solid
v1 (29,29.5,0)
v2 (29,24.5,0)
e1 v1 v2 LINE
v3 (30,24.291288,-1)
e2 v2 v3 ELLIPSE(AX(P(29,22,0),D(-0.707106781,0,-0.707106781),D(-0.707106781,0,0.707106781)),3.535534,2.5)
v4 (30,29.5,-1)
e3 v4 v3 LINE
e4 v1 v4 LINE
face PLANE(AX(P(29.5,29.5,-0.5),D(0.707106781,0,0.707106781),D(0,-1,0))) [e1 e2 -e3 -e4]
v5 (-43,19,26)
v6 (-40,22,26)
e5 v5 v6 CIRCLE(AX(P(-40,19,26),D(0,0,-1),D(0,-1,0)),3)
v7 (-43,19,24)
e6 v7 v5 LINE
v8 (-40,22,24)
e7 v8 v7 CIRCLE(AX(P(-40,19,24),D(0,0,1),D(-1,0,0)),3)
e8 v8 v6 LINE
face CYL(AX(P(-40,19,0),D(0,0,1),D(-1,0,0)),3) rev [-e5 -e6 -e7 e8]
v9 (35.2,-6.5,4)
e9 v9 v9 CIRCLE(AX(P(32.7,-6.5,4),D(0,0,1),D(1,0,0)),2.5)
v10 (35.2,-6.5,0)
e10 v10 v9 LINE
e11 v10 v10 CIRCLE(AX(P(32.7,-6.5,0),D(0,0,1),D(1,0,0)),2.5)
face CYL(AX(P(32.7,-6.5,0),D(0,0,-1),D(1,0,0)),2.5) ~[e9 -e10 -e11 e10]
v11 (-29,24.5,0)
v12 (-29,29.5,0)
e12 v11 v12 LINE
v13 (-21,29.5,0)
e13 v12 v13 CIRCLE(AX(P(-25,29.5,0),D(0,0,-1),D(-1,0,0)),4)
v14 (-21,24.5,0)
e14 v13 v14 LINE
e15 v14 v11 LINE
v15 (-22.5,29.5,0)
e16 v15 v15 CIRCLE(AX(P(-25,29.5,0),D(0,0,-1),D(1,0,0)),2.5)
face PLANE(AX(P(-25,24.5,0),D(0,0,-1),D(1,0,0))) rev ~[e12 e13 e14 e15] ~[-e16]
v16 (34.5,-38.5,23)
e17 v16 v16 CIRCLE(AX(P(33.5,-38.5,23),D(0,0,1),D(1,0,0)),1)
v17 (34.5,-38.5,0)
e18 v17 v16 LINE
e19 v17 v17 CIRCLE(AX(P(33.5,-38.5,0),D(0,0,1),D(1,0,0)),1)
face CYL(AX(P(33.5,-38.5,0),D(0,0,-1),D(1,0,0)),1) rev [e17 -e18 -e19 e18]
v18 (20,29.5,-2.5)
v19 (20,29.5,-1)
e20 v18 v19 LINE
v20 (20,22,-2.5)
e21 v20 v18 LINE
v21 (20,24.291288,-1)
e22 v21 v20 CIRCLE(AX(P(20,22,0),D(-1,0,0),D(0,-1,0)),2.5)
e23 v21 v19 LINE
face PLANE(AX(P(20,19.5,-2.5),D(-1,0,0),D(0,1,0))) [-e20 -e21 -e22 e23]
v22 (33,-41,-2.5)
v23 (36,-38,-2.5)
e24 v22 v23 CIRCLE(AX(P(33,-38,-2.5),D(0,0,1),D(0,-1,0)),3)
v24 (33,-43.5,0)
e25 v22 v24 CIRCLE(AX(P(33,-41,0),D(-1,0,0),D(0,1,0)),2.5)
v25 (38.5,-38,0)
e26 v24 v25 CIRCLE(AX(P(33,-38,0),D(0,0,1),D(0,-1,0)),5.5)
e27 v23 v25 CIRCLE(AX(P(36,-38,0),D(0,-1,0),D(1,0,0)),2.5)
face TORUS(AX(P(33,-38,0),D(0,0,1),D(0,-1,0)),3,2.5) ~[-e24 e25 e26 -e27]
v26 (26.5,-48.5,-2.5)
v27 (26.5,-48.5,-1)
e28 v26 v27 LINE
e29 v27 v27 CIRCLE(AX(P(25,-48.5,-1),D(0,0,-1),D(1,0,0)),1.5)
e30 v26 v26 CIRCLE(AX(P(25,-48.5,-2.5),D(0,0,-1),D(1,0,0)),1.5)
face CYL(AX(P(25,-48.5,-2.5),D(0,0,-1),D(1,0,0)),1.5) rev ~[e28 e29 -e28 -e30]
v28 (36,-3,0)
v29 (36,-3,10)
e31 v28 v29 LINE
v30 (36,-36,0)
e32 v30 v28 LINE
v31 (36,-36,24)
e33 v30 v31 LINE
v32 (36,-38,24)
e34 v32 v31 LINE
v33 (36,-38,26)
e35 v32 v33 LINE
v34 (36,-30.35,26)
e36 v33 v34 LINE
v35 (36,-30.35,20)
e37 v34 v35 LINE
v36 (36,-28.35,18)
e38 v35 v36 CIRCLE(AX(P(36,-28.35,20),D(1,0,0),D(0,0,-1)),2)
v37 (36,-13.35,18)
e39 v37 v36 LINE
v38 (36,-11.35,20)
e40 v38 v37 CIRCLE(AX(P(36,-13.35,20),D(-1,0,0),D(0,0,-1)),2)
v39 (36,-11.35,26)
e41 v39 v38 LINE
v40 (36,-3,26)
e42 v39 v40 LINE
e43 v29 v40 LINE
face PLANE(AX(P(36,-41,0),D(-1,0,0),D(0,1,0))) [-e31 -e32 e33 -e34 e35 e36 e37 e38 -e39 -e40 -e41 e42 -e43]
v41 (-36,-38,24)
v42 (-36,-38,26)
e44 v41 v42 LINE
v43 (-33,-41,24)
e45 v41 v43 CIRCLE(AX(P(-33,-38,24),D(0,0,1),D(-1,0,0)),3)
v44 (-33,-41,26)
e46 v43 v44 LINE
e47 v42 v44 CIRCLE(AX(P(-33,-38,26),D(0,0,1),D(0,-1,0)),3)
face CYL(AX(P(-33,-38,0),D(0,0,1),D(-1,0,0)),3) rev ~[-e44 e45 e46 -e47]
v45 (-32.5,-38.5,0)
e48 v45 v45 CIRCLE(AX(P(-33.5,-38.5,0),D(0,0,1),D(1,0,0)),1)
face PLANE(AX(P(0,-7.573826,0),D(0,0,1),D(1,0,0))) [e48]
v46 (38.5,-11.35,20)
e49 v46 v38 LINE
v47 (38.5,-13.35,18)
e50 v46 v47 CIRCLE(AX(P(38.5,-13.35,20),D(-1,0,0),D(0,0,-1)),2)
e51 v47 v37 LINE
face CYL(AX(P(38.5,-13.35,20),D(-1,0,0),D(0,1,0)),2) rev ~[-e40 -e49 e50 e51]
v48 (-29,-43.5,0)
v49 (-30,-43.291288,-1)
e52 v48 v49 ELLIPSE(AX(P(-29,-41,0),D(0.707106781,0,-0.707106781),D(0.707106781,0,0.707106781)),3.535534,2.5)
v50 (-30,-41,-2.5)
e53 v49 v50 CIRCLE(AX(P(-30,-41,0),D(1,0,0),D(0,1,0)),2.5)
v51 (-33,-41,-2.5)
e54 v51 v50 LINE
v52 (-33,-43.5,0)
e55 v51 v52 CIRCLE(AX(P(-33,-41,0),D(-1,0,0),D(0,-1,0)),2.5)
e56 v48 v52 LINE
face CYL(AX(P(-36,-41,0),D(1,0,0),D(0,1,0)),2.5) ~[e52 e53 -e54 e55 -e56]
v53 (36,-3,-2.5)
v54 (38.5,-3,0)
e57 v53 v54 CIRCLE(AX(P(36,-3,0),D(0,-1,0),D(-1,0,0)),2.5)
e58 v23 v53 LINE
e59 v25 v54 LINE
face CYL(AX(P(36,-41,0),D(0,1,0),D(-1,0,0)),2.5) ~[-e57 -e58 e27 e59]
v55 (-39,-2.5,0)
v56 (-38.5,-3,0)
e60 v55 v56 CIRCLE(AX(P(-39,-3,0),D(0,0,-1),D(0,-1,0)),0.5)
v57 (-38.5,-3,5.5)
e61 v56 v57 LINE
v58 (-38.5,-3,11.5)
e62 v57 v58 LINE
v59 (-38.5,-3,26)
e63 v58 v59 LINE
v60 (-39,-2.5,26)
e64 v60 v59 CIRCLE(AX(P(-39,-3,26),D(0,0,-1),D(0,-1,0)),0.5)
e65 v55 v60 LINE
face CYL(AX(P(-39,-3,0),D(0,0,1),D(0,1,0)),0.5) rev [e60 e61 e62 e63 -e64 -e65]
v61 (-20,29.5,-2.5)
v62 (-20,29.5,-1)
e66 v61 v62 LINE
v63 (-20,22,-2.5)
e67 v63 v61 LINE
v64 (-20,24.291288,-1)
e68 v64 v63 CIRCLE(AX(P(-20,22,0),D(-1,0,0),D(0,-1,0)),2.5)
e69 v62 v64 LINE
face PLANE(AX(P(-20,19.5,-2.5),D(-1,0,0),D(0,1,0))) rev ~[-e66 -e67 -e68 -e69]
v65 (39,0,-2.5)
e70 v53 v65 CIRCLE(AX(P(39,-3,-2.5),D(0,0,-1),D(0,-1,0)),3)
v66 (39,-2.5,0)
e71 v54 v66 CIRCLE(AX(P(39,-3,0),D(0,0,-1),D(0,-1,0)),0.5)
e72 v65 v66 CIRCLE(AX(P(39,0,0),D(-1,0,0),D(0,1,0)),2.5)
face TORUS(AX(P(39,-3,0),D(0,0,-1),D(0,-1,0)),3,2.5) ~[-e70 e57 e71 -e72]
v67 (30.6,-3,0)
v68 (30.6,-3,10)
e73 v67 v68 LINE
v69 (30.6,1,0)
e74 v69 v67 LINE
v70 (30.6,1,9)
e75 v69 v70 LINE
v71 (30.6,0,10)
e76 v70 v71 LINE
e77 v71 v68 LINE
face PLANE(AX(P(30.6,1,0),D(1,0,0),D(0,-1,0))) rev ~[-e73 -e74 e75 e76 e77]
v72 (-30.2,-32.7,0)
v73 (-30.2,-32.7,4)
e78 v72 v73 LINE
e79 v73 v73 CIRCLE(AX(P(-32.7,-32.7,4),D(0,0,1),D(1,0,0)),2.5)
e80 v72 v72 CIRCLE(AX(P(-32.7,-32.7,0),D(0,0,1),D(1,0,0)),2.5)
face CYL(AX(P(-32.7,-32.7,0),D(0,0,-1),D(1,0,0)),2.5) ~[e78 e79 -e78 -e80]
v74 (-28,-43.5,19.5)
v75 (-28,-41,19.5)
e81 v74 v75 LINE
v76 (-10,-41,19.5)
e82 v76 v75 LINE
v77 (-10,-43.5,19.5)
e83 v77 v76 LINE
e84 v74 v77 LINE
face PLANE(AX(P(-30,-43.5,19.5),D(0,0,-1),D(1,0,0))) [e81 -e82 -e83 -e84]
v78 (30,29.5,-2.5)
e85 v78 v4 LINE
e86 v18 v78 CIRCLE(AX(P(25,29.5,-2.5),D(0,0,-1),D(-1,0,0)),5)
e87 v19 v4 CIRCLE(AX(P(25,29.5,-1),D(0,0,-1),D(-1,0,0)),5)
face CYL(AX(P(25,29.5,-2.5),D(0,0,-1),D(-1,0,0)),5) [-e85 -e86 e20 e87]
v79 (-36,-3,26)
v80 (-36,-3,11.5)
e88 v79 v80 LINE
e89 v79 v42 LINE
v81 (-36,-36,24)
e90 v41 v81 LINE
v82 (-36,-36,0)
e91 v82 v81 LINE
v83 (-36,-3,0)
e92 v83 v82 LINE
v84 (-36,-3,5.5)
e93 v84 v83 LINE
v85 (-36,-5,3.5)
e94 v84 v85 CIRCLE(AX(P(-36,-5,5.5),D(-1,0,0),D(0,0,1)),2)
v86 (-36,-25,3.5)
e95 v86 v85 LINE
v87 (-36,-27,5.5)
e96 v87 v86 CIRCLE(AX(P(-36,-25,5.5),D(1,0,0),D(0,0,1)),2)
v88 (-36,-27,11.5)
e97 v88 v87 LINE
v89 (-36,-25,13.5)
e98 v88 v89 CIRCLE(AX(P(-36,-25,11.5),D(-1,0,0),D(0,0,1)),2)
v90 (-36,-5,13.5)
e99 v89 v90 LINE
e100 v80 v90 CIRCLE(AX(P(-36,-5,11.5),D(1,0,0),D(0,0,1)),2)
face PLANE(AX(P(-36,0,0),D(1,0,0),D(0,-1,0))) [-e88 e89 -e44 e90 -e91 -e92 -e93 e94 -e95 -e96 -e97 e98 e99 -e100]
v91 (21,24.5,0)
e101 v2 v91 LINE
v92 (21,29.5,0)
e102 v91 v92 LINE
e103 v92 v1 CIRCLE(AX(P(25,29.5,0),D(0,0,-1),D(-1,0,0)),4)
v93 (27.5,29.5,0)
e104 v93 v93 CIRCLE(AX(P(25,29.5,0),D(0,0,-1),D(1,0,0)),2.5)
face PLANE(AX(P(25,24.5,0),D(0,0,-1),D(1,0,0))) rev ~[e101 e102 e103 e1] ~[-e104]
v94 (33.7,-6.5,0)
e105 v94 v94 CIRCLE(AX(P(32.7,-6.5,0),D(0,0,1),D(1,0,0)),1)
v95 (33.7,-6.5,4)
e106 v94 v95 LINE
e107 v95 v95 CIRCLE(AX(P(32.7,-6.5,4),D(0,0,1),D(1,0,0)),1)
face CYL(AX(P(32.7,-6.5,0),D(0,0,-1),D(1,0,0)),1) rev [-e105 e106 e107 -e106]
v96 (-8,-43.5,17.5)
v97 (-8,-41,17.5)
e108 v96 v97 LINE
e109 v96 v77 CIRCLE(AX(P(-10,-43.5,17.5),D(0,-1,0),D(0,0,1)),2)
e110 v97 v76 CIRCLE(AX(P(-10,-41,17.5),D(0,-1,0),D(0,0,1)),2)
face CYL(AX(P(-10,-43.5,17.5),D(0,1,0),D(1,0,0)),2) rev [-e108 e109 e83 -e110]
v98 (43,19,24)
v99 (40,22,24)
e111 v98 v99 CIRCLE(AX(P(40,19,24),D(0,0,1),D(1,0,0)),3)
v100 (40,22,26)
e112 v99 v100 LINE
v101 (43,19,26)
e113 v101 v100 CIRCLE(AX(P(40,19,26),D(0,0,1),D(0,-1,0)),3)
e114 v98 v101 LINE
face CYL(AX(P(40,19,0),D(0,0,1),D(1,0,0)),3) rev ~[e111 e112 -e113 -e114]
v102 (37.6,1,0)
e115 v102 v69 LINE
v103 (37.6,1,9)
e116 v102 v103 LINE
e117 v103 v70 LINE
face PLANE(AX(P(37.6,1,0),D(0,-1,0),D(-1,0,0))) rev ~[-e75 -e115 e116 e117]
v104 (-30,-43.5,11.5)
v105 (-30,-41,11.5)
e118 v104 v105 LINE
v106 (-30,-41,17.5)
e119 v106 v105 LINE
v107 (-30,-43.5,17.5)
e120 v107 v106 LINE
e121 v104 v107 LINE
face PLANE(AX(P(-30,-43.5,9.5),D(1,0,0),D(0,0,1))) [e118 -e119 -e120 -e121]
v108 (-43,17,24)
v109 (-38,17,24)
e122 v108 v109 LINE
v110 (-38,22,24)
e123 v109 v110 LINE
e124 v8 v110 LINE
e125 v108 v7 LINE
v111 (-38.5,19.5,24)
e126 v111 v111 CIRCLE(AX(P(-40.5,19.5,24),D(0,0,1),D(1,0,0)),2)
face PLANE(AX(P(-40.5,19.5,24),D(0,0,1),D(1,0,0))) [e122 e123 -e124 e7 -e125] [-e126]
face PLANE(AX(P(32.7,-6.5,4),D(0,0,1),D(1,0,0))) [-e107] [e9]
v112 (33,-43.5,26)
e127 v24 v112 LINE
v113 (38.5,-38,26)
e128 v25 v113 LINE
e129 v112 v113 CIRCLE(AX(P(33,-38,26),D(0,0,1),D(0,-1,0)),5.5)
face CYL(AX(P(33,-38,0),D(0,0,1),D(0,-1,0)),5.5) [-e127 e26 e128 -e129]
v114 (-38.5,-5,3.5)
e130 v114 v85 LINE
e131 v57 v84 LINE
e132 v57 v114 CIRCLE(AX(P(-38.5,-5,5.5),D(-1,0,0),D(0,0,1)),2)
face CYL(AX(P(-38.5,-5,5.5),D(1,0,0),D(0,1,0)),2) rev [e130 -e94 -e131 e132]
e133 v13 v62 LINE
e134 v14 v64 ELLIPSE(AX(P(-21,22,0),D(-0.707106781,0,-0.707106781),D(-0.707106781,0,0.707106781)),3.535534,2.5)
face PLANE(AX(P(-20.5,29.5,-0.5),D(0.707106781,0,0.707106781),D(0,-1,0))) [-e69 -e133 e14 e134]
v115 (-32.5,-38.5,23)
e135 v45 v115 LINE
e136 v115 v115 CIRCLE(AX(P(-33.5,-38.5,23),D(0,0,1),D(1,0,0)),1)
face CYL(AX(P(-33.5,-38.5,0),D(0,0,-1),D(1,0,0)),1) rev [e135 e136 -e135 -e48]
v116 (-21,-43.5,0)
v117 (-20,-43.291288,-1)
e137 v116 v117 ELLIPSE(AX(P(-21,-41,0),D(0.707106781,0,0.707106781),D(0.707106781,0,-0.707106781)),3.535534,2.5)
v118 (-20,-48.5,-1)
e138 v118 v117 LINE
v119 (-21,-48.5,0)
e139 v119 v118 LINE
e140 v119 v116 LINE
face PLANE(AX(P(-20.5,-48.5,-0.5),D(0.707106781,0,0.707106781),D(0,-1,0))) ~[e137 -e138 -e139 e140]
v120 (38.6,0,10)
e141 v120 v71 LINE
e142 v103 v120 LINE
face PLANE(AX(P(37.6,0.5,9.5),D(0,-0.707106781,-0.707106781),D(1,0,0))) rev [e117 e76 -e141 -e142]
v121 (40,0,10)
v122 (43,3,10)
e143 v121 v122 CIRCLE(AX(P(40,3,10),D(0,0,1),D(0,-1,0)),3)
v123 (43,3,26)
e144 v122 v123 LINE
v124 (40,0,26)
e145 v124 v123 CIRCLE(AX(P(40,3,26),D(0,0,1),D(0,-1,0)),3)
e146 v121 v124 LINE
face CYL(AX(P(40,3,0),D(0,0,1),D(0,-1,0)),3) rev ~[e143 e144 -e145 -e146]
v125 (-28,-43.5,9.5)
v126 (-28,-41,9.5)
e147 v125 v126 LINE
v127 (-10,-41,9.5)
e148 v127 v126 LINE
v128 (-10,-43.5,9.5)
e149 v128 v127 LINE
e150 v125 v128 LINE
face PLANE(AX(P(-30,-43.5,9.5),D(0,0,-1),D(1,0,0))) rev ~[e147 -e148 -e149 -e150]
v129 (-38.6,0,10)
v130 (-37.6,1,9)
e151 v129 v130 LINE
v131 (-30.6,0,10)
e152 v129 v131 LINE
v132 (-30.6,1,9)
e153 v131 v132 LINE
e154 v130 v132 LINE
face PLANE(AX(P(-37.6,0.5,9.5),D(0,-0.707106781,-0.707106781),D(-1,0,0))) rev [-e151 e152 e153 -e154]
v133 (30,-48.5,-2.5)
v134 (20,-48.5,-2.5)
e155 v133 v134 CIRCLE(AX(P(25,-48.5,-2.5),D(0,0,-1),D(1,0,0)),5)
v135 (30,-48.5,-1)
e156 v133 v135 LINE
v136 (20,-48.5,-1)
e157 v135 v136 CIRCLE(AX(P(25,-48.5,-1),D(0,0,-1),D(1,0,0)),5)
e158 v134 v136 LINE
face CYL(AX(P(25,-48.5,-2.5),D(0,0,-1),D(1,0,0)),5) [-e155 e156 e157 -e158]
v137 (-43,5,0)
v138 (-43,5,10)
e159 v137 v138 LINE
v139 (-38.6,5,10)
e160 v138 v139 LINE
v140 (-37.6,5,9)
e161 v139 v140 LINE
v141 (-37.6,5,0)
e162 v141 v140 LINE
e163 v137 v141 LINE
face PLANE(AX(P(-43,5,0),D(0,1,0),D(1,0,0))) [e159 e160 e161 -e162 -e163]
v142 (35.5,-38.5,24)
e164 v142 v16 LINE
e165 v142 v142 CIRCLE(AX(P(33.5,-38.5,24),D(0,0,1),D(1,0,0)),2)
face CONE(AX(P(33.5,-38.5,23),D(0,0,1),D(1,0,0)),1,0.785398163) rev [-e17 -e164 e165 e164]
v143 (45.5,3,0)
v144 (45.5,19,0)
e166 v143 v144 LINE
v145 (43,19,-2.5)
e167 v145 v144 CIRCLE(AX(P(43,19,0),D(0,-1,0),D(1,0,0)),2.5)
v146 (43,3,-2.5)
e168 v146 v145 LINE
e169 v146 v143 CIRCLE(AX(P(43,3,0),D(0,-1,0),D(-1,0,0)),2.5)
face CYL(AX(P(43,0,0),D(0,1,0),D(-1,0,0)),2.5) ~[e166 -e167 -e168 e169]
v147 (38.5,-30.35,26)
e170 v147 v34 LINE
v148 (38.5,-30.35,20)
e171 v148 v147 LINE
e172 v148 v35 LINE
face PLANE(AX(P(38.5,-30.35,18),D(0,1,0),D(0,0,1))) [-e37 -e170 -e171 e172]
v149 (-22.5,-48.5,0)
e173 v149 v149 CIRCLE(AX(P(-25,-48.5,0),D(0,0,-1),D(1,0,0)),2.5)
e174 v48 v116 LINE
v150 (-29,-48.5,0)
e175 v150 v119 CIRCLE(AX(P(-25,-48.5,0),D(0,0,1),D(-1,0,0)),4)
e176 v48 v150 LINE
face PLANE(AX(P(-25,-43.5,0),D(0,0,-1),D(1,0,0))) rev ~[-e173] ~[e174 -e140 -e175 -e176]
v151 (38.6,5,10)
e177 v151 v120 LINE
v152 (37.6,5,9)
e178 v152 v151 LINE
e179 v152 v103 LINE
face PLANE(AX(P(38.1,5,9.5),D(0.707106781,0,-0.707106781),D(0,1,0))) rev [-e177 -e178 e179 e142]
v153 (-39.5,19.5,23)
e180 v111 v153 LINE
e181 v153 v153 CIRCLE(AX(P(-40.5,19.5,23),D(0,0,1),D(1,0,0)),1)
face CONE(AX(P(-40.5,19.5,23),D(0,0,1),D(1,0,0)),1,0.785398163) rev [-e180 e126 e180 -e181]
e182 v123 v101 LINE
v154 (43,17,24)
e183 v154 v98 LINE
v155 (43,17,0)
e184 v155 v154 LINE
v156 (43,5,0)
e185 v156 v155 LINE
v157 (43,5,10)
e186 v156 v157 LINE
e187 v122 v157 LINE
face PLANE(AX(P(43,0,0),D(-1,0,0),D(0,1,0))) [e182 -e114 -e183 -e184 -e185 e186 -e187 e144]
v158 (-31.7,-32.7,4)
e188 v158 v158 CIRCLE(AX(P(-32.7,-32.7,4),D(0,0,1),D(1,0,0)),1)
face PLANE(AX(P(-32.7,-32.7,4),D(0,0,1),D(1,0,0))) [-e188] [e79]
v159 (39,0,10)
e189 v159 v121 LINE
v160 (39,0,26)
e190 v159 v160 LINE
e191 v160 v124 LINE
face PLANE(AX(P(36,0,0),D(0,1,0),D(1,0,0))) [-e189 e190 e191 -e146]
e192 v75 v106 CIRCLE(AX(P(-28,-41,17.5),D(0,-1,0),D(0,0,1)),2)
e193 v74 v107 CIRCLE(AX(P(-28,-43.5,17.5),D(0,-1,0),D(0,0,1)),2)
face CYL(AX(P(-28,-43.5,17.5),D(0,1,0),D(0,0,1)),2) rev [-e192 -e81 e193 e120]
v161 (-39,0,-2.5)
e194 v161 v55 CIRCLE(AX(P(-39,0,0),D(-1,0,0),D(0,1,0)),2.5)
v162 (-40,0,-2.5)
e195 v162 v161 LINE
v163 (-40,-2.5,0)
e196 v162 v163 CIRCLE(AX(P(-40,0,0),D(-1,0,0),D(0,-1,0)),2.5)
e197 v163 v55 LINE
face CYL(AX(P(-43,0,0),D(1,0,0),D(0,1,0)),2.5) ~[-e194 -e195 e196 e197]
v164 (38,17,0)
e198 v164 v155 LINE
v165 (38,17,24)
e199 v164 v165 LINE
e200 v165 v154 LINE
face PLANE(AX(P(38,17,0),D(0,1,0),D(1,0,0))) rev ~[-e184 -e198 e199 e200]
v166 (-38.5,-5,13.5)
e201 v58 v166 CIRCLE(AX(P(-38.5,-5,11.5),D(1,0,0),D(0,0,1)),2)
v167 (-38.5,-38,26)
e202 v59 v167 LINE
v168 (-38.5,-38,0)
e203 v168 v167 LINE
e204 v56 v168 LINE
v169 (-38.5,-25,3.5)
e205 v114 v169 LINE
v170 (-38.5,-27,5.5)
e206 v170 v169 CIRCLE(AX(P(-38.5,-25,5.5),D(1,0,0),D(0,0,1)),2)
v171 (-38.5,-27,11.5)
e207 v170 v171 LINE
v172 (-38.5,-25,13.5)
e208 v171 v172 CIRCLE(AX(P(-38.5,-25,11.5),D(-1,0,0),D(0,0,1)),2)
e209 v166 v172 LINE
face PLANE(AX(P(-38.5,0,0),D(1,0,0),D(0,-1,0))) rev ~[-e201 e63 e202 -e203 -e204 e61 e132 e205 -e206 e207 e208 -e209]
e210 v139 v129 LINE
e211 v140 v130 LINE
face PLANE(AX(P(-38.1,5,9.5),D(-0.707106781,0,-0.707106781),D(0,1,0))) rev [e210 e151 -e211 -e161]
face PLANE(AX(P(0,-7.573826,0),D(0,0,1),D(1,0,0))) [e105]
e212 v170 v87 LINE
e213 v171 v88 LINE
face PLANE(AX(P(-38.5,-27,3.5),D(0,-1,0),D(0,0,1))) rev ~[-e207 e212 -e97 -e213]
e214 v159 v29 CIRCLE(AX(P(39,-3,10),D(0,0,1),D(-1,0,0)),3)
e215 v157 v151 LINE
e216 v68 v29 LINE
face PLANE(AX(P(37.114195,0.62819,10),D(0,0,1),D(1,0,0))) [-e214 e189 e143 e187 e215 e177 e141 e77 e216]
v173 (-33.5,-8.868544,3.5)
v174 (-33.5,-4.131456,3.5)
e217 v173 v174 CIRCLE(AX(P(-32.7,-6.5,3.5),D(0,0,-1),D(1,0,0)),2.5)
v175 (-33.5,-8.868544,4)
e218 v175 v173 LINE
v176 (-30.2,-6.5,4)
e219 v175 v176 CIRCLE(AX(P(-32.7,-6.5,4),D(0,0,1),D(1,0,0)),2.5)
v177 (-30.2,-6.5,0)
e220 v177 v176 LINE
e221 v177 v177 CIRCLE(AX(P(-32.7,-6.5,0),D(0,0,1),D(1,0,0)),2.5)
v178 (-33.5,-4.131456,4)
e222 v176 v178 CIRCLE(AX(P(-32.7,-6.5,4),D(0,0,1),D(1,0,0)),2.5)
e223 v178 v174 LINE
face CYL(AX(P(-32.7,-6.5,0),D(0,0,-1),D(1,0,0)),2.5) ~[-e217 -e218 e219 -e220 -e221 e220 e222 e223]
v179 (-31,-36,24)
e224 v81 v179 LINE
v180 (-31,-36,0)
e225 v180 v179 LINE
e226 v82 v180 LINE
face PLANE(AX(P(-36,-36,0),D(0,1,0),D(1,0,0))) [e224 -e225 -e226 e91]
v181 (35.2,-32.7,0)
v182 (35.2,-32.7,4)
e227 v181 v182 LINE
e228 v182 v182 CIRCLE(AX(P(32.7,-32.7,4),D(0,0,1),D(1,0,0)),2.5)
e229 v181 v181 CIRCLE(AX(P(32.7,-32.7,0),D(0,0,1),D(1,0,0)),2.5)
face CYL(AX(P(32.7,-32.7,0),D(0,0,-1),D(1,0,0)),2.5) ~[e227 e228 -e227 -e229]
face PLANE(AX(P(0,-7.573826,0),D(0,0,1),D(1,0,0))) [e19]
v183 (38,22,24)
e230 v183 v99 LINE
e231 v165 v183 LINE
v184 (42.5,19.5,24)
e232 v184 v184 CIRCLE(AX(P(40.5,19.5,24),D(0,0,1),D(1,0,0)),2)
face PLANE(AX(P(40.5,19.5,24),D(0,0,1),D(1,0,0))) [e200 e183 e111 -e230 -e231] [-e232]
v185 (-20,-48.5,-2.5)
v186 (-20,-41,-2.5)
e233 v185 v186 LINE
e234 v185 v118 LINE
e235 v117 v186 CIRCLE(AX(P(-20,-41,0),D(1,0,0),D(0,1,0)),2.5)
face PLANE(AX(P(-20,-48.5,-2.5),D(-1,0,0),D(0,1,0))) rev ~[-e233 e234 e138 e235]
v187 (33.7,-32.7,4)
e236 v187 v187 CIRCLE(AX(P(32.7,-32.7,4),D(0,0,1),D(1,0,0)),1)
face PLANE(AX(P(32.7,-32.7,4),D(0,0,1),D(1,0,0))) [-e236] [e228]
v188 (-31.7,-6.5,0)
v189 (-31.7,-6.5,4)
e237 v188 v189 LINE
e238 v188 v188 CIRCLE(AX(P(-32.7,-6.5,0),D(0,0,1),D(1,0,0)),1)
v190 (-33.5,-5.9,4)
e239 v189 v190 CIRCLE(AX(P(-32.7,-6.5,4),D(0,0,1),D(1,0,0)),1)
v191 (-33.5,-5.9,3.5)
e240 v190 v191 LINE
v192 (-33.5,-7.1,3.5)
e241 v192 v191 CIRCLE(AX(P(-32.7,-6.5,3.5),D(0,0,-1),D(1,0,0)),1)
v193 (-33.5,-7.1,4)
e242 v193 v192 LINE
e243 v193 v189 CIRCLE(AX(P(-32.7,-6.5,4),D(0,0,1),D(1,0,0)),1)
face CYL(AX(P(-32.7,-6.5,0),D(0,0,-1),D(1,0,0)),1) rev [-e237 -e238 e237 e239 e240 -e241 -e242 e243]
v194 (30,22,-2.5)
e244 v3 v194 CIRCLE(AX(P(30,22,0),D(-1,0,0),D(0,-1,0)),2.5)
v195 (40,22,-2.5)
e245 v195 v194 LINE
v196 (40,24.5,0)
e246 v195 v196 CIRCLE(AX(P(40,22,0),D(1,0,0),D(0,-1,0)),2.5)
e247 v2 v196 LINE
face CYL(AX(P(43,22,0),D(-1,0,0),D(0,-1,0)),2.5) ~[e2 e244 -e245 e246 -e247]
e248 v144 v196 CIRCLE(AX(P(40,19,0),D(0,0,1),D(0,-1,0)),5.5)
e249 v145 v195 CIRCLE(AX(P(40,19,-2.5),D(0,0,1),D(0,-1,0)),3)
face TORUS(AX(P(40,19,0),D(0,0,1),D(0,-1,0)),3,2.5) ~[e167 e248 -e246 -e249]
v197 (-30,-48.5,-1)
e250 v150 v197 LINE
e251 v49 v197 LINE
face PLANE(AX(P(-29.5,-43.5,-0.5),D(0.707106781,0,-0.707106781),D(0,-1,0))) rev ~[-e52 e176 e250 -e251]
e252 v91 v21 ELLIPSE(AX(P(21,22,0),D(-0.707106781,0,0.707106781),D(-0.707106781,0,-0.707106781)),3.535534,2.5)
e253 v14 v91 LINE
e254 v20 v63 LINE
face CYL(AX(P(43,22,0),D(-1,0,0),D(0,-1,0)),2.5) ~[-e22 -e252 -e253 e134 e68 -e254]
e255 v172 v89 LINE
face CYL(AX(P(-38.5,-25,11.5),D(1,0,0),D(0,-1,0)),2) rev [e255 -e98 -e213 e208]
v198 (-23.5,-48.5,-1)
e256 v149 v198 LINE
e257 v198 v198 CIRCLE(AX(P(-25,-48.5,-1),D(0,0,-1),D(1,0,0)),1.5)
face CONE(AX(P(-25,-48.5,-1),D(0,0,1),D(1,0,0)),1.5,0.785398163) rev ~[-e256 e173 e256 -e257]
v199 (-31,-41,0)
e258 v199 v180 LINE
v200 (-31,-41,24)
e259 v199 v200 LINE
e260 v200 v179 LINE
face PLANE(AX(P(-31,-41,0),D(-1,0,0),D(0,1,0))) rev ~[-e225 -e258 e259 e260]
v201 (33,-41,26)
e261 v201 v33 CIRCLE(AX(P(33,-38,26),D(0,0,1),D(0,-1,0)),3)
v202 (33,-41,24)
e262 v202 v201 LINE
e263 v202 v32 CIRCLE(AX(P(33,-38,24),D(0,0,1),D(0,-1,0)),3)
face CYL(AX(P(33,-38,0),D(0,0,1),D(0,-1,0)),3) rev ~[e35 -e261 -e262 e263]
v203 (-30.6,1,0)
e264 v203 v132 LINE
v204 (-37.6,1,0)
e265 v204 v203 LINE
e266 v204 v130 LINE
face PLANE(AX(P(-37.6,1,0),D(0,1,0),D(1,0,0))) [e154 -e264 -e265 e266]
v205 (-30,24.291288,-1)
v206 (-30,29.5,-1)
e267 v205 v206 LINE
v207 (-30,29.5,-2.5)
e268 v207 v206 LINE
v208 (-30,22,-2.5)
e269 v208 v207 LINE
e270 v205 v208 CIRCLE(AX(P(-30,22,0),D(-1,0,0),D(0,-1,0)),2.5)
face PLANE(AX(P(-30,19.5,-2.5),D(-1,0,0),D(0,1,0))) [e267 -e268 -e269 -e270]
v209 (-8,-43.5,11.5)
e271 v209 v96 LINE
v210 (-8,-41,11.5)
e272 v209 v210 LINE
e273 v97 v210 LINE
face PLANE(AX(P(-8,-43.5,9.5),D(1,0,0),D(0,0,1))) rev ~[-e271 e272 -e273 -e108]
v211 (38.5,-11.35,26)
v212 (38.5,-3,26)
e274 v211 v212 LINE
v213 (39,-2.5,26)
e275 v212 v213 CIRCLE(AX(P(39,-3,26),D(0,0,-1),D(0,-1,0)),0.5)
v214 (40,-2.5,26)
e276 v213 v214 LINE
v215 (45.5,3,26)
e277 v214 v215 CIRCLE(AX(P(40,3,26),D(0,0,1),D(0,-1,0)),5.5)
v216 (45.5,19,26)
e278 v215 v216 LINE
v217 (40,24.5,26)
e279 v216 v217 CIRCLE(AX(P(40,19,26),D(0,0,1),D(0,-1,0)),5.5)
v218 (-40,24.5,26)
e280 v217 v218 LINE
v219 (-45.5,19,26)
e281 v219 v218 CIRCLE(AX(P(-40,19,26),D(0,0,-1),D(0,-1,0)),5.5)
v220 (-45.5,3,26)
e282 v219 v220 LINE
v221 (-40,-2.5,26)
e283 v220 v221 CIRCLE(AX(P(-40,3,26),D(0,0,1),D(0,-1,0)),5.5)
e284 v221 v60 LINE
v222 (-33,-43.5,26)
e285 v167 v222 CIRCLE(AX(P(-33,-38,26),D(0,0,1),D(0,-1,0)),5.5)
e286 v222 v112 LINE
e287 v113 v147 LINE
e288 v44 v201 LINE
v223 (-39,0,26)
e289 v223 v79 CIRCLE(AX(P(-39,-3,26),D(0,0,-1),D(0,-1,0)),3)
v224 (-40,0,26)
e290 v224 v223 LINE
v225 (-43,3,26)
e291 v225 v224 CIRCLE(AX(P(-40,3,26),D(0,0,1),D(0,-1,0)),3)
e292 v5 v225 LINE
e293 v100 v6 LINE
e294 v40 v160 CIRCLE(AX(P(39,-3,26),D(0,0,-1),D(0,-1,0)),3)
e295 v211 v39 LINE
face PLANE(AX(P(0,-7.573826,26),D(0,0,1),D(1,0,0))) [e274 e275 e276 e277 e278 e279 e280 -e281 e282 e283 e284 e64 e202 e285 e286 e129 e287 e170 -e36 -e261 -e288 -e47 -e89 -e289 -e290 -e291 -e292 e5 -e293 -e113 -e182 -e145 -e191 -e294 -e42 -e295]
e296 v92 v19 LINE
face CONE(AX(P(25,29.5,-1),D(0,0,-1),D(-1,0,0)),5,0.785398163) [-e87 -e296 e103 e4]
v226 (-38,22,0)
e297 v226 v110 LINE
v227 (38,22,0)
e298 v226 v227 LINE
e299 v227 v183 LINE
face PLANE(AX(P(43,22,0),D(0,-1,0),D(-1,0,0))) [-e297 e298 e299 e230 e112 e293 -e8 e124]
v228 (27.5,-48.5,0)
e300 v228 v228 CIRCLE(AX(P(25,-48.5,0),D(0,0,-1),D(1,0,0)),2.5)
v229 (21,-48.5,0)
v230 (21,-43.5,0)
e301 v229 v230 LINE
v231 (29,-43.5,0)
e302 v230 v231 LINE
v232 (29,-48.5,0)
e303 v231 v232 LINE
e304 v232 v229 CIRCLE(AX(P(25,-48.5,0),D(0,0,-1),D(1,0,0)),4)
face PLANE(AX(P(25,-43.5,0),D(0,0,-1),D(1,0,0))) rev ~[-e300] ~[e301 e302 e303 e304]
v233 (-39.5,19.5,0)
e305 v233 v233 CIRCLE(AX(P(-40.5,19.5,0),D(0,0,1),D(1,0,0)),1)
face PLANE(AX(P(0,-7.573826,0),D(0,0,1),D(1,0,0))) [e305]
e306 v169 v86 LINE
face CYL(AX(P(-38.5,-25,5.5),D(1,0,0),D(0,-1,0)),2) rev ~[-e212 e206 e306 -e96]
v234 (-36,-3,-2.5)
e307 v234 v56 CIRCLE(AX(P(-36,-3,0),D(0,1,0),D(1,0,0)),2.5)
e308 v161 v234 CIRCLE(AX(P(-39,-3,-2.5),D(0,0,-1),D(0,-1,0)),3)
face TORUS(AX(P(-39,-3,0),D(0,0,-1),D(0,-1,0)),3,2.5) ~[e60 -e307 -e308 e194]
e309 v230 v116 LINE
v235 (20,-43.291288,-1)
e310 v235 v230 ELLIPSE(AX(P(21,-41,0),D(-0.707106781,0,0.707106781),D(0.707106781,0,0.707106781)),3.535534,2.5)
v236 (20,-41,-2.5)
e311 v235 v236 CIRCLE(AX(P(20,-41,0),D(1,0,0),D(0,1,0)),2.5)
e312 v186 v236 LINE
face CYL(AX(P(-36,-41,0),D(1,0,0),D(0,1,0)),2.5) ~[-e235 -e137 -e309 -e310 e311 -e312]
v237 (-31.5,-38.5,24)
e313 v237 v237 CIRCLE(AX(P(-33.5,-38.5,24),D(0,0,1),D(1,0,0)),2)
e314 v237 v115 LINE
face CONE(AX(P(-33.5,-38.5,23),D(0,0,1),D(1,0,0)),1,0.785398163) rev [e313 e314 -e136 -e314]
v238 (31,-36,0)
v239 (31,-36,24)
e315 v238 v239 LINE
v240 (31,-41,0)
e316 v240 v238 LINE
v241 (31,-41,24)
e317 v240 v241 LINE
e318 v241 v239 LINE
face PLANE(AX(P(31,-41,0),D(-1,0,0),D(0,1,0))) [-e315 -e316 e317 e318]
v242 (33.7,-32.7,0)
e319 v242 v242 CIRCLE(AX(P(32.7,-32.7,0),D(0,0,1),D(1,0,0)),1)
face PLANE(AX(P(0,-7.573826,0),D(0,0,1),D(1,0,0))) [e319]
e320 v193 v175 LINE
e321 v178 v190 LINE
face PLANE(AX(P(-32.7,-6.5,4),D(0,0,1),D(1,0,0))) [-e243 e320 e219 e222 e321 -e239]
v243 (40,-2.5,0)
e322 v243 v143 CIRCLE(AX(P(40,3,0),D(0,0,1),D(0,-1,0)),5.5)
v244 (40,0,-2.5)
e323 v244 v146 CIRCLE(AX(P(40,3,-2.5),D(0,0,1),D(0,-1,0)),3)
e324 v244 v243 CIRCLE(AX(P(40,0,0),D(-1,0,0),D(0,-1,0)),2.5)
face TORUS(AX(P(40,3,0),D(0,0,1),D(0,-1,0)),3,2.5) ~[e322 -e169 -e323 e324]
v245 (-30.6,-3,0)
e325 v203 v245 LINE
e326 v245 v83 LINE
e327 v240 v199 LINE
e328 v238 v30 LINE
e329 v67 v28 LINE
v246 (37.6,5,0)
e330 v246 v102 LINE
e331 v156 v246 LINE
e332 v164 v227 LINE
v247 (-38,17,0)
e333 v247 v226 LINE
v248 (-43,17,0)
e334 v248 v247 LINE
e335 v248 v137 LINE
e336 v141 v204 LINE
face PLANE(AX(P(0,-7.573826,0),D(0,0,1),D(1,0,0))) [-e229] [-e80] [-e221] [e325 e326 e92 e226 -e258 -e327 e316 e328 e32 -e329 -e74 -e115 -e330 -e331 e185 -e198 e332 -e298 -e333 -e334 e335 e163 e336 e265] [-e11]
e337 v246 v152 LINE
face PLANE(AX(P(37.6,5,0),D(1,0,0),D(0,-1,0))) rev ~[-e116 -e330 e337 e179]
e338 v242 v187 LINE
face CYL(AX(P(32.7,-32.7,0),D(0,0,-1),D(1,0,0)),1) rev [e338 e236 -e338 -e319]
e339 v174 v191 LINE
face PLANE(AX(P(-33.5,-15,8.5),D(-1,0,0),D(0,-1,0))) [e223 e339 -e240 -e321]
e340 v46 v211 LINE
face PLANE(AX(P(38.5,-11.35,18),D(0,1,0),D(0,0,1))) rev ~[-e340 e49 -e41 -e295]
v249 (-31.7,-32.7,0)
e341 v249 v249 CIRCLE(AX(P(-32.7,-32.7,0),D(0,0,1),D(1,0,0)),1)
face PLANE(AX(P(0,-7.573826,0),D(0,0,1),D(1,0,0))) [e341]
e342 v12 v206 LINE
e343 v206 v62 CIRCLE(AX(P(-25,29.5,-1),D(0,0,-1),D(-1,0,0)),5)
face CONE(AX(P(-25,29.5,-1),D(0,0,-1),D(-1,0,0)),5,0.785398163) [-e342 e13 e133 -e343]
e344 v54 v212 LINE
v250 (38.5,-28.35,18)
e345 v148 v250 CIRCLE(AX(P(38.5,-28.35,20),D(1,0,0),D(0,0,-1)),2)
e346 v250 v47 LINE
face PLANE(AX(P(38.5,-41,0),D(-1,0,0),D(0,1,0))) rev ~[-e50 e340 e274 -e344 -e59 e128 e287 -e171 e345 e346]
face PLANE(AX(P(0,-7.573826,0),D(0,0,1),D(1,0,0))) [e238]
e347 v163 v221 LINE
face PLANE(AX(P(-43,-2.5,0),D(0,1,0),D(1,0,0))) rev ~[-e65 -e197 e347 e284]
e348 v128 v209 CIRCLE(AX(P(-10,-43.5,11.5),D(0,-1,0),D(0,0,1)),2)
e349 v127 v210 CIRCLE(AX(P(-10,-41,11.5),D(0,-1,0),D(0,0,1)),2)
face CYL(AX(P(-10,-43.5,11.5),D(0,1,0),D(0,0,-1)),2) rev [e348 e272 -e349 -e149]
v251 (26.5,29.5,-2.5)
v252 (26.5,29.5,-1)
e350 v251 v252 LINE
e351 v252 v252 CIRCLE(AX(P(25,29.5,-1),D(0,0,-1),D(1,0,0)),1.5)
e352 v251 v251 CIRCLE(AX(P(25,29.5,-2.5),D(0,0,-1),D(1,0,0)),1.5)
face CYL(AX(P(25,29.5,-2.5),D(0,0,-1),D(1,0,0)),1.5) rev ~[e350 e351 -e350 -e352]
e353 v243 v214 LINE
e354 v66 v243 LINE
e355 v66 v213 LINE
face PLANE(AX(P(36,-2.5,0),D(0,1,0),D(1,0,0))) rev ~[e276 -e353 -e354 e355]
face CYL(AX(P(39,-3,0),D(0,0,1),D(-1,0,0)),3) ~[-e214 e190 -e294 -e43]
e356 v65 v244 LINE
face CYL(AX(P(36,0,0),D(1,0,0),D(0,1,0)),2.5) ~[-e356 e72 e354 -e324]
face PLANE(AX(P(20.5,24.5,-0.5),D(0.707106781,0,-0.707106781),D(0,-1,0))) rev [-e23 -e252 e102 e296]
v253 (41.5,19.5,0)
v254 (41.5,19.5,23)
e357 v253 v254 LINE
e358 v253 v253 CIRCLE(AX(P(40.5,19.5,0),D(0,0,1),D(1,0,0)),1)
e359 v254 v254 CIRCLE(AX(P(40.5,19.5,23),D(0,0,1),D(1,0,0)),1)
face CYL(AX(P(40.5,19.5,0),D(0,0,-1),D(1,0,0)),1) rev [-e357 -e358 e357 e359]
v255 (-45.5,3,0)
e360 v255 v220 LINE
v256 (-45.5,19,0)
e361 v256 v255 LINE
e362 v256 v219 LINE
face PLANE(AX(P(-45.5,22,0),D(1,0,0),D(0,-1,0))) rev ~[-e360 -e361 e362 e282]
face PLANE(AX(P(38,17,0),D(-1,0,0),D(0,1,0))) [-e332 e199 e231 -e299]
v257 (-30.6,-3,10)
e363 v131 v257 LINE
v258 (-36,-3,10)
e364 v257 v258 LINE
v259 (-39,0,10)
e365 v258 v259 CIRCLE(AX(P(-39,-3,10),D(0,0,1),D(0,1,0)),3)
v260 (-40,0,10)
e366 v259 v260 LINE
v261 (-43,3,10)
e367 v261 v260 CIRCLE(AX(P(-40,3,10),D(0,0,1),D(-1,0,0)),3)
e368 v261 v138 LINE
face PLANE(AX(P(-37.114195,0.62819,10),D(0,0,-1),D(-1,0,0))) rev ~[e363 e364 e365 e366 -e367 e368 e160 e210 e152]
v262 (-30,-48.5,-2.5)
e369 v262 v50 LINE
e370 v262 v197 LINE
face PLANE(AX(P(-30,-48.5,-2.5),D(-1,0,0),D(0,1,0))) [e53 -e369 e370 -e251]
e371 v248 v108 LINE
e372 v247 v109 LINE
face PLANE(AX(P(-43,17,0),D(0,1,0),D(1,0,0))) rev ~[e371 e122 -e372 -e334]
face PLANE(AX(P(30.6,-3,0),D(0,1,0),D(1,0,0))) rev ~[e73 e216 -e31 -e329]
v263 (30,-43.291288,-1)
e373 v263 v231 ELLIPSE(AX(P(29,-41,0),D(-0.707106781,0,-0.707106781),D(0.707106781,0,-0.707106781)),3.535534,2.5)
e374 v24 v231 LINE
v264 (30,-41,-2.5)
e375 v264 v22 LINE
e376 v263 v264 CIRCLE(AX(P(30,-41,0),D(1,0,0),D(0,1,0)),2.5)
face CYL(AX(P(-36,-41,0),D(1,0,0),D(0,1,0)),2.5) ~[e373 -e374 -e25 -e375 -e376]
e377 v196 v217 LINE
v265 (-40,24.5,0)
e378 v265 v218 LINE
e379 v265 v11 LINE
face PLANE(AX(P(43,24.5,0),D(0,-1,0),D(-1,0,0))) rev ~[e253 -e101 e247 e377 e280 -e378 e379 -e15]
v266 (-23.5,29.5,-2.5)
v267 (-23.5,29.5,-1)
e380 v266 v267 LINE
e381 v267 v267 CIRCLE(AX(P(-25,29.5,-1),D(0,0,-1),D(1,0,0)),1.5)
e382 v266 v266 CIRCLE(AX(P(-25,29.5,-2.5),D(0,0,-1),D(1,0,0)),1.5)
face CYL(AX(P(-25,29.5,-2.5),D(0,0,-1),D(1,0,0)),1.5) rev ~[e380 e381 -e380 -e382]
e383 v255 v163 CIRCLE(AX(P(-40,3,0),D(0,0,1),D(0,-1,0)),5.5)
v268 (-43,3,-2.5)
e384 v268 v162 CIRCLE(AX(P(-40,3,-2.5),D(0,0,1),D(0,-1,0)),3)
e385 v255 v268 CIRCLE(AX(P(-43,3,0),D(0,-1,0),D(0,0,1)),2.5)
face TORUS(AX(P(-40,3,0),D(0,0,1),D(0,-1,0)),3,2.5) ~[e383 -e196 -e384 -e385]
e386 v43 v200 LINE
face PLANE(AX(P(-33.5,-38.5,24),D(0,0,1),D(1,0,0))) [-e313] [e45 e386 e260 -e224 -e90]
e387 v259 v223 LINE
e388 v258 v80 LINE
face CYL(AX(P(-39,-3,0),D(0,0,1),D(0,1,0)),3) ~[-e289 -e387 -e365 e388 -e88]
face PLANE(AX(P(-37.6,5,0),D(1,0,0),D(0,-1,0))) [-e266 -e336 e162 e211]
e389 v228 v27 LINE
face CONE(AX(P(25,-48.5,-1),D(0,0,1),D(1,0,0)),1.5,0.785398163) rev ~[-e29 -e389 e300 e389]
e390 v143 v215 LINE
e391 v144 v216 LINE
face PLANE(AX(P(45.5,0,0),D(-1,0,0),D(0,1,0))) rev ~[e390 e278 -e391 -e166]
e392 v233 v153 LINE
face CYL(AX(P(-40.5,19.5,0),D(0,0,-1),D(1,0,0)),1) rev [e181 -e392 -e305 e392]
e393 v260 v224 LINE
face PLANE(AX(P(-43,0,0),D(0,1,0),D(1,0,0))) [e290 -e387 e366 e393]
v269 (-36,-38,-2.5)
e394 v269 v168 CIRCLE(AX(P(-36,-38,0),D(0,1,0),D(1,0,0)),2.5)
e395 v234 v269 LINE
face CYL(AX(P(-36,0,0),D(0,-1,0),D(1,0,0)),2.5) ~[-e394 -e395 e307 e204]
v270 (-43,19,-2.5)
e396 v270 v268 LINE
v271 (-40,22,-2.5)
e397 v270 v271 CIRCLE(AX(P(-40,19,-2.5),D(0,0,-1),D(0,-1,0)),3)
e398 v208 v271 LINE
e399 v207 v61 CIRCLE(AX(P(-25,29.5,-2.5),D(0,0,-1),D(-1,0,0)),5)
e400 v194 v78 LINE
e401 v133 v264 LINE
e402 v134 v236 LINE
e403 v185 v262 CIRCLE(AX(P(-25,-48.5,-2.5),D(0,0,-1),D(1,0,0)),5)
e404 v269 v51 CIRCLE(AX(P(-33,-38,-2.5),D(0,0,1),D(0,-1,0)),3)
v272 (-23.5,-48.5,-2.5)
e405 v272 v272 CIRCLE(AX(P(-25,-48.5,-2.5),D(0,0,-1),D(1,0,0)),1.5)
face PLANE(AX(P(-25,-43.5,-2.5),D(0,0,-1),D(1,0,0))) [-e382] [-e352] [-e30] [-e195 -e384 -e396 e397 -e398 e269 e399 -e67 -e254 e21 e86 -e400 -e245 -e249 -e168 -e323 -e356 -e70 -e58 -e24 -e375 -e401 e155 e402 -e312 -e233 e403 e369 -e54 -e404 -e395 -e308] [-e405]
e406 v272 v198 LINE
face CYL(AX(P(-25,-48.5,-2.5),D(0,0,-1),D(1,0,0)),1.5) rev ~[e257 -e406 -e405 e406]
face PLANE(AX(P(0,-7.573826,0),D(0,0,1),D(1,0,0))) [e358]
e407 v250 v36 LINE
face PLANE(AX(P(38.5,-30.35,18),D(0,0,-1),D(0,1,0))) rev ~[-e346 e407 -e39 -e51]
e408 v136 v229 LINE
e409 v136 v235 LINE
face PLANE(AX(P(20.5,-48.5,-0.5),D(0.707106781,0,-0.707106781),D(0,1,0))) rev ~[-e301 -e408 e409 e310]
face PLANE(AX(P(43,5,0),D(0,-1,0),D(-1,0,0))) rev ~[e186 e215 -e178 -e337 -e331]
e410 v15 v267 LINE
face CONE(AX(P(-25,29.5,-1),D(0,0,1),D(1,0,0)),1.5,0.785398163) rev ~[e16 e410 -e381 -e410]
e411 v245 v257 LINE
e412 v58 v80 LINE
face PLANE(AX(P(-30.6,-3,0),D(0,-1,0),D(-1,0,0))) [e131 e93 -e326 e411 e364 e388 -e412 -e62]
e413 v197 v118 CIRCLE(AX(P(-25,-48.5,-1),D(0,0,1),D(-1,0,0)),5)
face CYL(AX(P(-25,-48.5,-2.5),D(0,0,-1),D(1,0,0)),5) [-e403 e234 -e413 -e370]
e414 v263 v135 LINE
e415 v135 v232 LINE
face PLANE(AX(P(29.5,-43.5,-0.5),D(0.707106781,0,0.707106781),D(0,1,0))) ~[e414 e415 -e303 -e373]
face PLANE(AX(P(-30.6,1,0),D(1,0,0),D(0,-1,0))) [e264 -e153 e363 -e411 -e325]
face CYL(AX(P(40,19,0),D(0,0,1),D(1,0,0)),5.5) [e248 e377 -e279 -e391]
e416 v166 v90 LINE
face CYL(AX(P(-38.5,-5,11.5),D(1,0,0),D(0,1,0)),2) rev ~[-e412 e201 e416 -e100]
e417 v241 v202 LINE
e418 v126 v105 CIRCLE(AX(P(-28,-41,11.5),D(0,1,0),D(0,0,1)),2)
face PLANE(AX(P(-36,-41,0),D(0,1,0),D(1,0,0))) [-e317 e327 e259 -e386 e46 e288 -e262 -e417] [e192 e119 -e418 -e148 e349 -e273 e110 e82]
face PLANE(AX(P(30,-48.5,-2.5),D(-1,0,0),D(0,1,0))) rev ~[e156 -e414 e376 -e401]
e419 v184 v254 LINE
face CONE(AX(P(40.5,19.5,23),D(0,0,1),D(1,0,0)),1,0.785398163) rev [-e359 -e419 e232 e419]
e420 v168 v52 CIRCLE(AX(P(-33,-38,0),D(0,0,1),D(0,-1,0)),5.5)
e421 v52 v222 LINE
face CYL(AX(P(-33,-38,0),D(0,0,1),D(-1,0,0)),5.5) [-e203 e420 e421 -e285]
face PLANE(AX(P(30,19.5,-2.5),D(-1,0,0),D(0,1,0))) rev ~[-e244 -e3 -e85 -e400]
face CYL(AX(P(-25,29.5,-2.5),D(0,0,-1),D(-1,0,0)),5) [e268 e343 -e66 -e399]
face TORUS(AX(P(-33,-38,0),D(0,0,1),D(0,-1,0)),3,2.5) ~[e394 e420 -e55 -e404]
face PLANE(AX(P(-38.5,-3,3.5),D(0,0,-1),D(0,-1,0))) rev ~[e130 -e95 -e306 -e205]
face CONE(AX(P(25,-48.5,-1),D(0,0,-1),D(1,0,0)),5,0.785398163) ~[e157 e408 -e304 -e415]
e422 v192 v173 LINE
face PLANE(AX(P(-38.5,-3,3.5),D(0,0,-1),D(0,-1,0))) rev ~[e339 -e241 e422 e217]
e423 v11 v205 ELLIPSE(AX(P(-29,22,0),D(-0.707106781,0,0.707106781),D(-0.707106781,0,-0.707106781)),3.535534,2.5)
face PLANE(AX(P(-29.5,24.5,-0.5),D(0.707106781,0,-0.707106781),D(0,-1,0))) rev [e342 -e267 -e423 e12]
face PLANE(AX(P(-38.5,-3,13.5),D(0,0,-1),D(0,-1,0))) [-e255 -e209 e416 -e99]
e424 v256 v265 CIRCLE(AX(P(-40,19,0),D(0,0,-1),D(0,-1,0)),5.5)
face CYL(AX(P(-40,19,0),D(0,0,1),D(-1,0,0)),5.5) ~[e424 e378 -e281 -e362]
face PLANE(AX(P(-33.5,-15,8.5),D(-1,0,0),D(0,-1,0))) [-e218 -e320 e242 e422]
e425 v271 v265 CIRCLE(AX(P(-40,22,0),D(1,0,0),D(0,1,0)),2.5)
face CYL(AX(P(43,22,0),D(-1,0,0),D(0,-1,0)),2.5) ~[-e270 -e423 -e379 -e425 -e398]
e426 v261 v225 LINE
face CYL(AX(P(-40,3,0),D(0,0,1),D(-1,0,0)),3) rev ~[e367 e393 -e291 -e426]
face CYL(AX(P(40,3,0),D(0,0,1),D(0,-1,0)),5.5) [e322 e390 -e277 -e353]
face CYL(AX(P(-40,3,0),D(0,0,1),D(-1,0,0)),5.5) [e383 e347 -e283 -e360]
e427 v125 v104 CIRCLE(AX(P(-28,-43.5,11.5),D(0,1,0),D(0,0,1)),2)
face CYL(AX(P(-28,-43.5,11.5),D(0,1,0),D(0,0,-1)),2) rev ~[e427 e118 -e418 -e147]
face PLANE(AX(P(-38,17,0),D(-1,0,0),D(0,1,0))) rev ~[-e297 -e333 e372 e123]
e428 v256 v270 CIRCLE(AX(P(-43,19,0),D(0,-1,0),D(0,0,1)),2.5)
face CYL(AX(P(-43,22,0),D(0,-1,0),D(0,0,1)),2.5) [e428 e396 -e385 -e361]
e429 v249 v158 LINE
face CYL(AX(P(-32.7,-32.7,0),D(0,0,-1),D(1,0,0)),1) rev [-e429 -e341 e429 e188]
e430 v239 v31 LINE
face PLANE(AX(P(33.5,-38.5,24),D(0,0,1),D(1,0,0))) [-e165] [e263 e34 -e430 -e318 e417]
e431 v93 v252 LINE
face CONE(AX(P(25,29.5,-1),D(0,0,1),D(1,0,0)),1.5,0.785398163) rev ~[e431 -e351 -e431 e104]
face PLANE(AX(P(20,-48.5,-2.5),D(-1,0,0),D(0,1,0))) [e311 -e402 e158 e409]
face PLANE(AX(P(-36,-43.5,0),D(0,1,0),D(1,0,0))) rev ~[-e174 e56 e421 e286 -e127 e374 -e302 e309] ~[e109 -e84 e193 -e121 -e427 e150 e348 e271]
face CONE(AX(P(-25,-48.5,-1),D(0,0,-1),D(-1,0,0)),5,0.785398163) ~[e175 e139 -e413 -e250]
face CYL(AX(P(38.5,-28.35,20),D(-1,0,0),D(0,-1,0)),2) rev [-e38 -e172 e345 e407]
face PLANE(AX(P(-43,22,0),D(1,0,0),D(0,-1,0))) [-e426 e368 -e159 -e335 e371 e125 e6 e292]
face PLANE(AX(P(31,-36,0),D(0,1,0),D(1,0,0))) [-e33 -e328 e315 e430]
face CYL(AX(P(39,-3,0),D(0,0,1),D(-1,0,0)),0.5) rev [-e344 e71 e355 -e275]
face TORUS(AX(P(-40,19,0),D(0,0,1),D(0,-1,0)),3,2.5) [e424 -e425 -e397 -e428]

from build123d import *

# Parameters (mm, degrees)
PAD_DEPTH       = 26
FILLET_R        = 3
THICKNESS_T     = 2.5
SKETCH001_R     = 2.5
SKETCH001_R_2   = 1
PAD001_DEPTH    = 4
SKETCH007_W     = 19
SKETCH007_H     = 8
POCKET_DEPTH    = 5
PAD008_DEPTH    = 10
SKETCH013_W     = 22
SKETCH013_H     = 10
POCKET002_DEPTH = 5
SKETCH014_W     = 24
SKETCH014_H     = 10
POCKET003_DEPTH = 5
FILLET001_R     = 2
FILLET002_R     = 2
FILLET003_R     = 2
SKETCH015_W     = 5
SKETCH015_H     = 5
SKETCH015_R     = 1
PAD011_DEPTH    = 24
SKETCH016_R     = 1.5
PAD012_DEPTH    = 2.5
CHAMFER_SIZE    = 1
CHAMFER001_SIZE = 1
CHAMFER002_SIZE = 1


with BuildPart() as part:
    # Sketch → Pad (new body)
    with BuildSketch(Plane.XY):
        Polygon((-43, 22), (-43, 0), (-36, 0), (-36, -41), (36, -41), (36, 0), (43, 0), (43, 22), align=None)
    extrude(amount=PAD_DEPTH)

    # Fillet
    fillet_edges = [part.edges().sort_by_distance(p)[0] for p in [
        (-36, -41, 13),
        (36, -41, 13),
        (43, 0, 13),
        (-43, 0, 13),
        (-43, 22, 13),
        (43, 22, 13),
        (36, 0, 13),
        (-36, 0, 13),
    ]]
    fillet(fillet_edges, radius=FILLET_R)

    # Thickness
    thickness_openings = [part.faces().sort_by_distance(p)[0] for p in [
        (0, -8.19552, 26),
    ]]
    offset(amount=THICKNESS_T, openings=thickness_openings)

    # Sketch001 (on Face2 of Thickness) → Pad001 (join)
    with BuildSketch(Plane.XY):
        with Locations((-32.7, -6.5)):
            Circle(SKETCH001_R)
        with Locations((-32.7, -6.5)):
            Circle(SKETCH001_R_2, mode=Mode.SUBTRACT)
        with Locations((-32.7, -32.7)):
            Circle(SKETCH001_R)
        with Locations((-32.7, -32.7)):
            Circle(SKETCH001_R_2, mode=Mode.SUBTRACT)
        with Locations((32.7, -32.7)):
            Circle(SKETCH001_R)
        with Locations((32.7, -32.7)):
            Circle(SKETCH001_R_2, mode=Mode.SUBTRACT)
        with Locations((32.7, -6.5)):
            Circle(SKETCH001_R)
        with Locations((32.7, -6.5)):
            Circle(SKETCH001_R_2, mode=Mode.SUBTRACT)
    extrude(amount=PAD001_DEPTH)

    # Sketch007 (on Face24 of Pad001) → Pocket (cut)
    with BuildSketch(Plane.YZ.offset(38.5)):
        with Locations((-20.85, 22)):
            Rectangle(SKETCH007_W, SKETCH007_H)
    extrude(amount=-POCKET_DEPTH, mode=Mode.SUBTRACT)

    # Sketch009 (on Face2 of Pocket) → Pad008 (join)
    with BuildSketch(Plane.XY):
        Polygon((43, 5), (37.6, 5), (37.6, 1), (30.6, 1), (30.6, -3), (37.6, -3), (43, 0), align=None)
        Polygon((-43, 5), (-37.6, 5), (-37.6, 1), (-30.6, 1), (-30.6, -3), (-37.6, -3), (-43, 0), align=None)
    extrude(amount=PAD008_DEPTH)

    # Sketch013 → Pocket002 (cut)
    with BuildSketch(Plane.XZ.offset(43.5)):
        with Locations((-19, 14.5)):
            Rectangle(SKETCH013_W, SKETCH013_H)
    extrude(amount=-POCKET002_DEPTH, mode=Mode.SUBTRACT)

    # Sketch014 (on Face36 of Pocket002) → Pocket003 (cut)
    with BuildSketch(Plane(origin=(-38.5, 0, 0), x_dir=(0, -1, 0), z_dir=(-1, 0, 0))):
        with Locations((15, 8.5)):
            Rectangle(SKETCH014_W, SKETCH014_H)
    extrude(amount=-POCKET003_DEPTH, mode=Mode.SUBTRACT)

    # Fillet001
    fillet001_edges = [part.edges().sort_by_distance(p)[0] for p in [
        (-37.25, -3, 13.5),
        (-37.25, -3, 3.5),
        (-37.25, -27, 13.5),
        (-37.25, -27, 3.5),
    ]]
    fillet(fillet001_edges, radius=FILLET001_R)

    # Fillet002
    fillet002_edges = [part.edges().sort_by_distance(p)[0] for p in [
        (-30, -42.25, 9.5),
        (-30, -42.25, 19.5),
        (-8, -42.25, 19.5),
        (-8, -42.25, 9.5),
    ]]
    fillet(fillet002_edges, radius=FILLET002_R)

    # Fillet003
    fillet003_edges = [part.edges().sort_by_distance(p)[0] for p in [
        (37.25, -30.35, 18),
        (37.25, -11.35, 18),
    ]]
    fillet(fillet003_edges, radius=FILLET003_R)

    # Sketch015 (on Face10 of Fillet003) → Pad011 (join)
    with BuildSketch(Plane.XY):
        with Locations((-40.5, 19.5)):
            Rectangle(SKETCH015_W, SKETCH015_H)
        with Locations((-40.5, 19.5)):
            Circle(SKETCH015_R, mode=Mode.SUBTRACT)
        with Locations((40.5, 19.5)):
            Rectangle(SKETCH015_W, SKETCH015_H)
        with Locations((40.5, 19.5)):
            Circle(SKETCH015_R, mode=Mode.SUBTRACT)
        with Locations((33.5, -38.5)):
            Rectangle(SKETCH015_W, SKETCH015_H)
        with Locations((33.5, -38.5)):
            Circle(SKETCH015_R, mode=Mode.SUBTRACT)
        with Locations((-33.5, -38.5)):
            Rectangle(SKETCH015_W, SKETCH015_H)
        with Locations((-33.5, -38.5)):
            Circle(SKETCH015_R, mode=Mode.SUBTRACT)
    extrude(amount=PAD011_DEPTH)

    # Sketch016 (on Face110 of Pad011) → Pad012 (join)
    with BuildSketch(Plane(origin=(0, 0, -2.5), x_dir=(1, 0, 0), z_dir=(0, 0, -1))):
        with BuildLine():
            ThreePointArc((-20, 48.5), (-25, 53.5), (-30, 48.5))
            Line((-30, 48.5), (-30, 38.5))
            ThreePointArc((-30, 38.5), (-25, 33.5), (-20, 38.5))
            Line((-20, 48.5), (-20, 38.5))
        make_face()
        with Locations((-25, 48.5)):
            Circle(SKETCH016_R, mode=Mode.SUBTRACT)
        with BuildLine():
            ThreePointArc((30, 48.5), (25, 53.5), (20, 48.5))
            Line((20, 48.5), (20, 38.5))
            ThreePointArc((20, 38.5), (25, 33.5), (30, 38.5))
            Line((30, 48.5), (30, 38.5))
        make_face()
        with Locations((25, 48.5)):
            Circle(SKETCH016_R, mode=Mode.SUBTRACT)
        with BuildLine():
            ThreePointArc((-20, -19.5), (-25, -14.5), (-30, -19.5))
            Line((-30, -19.5), (-30, -29.5))
            ThreePointArc((-30, -29.5), (-25, -34.5), (-20, -29.5))
            Line((-20, -19.5), (-20, -29.5))
        make_face()
        with Locations((-25, -29.5)):
            Circle(SKETCH016_R, mode=Mode.SUBTRACT)
        with BuildLine():
            ThreePointArc((30, -19.5), (25, -14.5), (20, -19.5))
            Line((20, -19.5), (20, -29.5))
            ThreePointArc((20, -29.5), (25, -34.5), (30, -29.5))
            Line((30, -19.5), (30, -29.5))
        make_face()
        with Locations((25, -29.5)):
            Circle(SKETCH016_R, mode=Mode.SUBTRACT)
    extrude(amount=-PAD012_DEPTH)

    # Chamfer
    chamfer_edges = [part.edges().sort_by_distance(p)[0] for p in [
        (-20, -46, 0),
        (20, -46, 0),
        (-30, 27, 0),
        (20, 27, 0),
        (23.5, 29.5, 0),
        (-26.5, 29.5, 0),
        (-26.5, -48.5, 0),
        (23.5, -48.5, 0),
    ]]
    chamfer(chamfer_edges, length=CHAMFER_SIZE)

    # Chamfer001
    chamfer001_edges = [part.edges().sort_by_distance(p)[0] for p in [
        (-41.5, 19.5, 24),
        (39.5, 19.5, 24),
        (32.5, -38.5, 24),
        (-34.5, -38.5, 24),
    ]]
    chamfer(chamfer001_edges, length=CHAMFER001_SIZE)

    # Chamfer002
    chamfer002_edges = [part.edges().sort_by_distance(p)[0] for p in [
        (-37.6, 3, 10),
        (-34.1, 1, 10),
        (34.1, 1, 10),
        (37.6, 3, 10),
    ]]
    chamfer(chamfer002_edges, length=CHAMFER002_SIZE)


solid = part.part
